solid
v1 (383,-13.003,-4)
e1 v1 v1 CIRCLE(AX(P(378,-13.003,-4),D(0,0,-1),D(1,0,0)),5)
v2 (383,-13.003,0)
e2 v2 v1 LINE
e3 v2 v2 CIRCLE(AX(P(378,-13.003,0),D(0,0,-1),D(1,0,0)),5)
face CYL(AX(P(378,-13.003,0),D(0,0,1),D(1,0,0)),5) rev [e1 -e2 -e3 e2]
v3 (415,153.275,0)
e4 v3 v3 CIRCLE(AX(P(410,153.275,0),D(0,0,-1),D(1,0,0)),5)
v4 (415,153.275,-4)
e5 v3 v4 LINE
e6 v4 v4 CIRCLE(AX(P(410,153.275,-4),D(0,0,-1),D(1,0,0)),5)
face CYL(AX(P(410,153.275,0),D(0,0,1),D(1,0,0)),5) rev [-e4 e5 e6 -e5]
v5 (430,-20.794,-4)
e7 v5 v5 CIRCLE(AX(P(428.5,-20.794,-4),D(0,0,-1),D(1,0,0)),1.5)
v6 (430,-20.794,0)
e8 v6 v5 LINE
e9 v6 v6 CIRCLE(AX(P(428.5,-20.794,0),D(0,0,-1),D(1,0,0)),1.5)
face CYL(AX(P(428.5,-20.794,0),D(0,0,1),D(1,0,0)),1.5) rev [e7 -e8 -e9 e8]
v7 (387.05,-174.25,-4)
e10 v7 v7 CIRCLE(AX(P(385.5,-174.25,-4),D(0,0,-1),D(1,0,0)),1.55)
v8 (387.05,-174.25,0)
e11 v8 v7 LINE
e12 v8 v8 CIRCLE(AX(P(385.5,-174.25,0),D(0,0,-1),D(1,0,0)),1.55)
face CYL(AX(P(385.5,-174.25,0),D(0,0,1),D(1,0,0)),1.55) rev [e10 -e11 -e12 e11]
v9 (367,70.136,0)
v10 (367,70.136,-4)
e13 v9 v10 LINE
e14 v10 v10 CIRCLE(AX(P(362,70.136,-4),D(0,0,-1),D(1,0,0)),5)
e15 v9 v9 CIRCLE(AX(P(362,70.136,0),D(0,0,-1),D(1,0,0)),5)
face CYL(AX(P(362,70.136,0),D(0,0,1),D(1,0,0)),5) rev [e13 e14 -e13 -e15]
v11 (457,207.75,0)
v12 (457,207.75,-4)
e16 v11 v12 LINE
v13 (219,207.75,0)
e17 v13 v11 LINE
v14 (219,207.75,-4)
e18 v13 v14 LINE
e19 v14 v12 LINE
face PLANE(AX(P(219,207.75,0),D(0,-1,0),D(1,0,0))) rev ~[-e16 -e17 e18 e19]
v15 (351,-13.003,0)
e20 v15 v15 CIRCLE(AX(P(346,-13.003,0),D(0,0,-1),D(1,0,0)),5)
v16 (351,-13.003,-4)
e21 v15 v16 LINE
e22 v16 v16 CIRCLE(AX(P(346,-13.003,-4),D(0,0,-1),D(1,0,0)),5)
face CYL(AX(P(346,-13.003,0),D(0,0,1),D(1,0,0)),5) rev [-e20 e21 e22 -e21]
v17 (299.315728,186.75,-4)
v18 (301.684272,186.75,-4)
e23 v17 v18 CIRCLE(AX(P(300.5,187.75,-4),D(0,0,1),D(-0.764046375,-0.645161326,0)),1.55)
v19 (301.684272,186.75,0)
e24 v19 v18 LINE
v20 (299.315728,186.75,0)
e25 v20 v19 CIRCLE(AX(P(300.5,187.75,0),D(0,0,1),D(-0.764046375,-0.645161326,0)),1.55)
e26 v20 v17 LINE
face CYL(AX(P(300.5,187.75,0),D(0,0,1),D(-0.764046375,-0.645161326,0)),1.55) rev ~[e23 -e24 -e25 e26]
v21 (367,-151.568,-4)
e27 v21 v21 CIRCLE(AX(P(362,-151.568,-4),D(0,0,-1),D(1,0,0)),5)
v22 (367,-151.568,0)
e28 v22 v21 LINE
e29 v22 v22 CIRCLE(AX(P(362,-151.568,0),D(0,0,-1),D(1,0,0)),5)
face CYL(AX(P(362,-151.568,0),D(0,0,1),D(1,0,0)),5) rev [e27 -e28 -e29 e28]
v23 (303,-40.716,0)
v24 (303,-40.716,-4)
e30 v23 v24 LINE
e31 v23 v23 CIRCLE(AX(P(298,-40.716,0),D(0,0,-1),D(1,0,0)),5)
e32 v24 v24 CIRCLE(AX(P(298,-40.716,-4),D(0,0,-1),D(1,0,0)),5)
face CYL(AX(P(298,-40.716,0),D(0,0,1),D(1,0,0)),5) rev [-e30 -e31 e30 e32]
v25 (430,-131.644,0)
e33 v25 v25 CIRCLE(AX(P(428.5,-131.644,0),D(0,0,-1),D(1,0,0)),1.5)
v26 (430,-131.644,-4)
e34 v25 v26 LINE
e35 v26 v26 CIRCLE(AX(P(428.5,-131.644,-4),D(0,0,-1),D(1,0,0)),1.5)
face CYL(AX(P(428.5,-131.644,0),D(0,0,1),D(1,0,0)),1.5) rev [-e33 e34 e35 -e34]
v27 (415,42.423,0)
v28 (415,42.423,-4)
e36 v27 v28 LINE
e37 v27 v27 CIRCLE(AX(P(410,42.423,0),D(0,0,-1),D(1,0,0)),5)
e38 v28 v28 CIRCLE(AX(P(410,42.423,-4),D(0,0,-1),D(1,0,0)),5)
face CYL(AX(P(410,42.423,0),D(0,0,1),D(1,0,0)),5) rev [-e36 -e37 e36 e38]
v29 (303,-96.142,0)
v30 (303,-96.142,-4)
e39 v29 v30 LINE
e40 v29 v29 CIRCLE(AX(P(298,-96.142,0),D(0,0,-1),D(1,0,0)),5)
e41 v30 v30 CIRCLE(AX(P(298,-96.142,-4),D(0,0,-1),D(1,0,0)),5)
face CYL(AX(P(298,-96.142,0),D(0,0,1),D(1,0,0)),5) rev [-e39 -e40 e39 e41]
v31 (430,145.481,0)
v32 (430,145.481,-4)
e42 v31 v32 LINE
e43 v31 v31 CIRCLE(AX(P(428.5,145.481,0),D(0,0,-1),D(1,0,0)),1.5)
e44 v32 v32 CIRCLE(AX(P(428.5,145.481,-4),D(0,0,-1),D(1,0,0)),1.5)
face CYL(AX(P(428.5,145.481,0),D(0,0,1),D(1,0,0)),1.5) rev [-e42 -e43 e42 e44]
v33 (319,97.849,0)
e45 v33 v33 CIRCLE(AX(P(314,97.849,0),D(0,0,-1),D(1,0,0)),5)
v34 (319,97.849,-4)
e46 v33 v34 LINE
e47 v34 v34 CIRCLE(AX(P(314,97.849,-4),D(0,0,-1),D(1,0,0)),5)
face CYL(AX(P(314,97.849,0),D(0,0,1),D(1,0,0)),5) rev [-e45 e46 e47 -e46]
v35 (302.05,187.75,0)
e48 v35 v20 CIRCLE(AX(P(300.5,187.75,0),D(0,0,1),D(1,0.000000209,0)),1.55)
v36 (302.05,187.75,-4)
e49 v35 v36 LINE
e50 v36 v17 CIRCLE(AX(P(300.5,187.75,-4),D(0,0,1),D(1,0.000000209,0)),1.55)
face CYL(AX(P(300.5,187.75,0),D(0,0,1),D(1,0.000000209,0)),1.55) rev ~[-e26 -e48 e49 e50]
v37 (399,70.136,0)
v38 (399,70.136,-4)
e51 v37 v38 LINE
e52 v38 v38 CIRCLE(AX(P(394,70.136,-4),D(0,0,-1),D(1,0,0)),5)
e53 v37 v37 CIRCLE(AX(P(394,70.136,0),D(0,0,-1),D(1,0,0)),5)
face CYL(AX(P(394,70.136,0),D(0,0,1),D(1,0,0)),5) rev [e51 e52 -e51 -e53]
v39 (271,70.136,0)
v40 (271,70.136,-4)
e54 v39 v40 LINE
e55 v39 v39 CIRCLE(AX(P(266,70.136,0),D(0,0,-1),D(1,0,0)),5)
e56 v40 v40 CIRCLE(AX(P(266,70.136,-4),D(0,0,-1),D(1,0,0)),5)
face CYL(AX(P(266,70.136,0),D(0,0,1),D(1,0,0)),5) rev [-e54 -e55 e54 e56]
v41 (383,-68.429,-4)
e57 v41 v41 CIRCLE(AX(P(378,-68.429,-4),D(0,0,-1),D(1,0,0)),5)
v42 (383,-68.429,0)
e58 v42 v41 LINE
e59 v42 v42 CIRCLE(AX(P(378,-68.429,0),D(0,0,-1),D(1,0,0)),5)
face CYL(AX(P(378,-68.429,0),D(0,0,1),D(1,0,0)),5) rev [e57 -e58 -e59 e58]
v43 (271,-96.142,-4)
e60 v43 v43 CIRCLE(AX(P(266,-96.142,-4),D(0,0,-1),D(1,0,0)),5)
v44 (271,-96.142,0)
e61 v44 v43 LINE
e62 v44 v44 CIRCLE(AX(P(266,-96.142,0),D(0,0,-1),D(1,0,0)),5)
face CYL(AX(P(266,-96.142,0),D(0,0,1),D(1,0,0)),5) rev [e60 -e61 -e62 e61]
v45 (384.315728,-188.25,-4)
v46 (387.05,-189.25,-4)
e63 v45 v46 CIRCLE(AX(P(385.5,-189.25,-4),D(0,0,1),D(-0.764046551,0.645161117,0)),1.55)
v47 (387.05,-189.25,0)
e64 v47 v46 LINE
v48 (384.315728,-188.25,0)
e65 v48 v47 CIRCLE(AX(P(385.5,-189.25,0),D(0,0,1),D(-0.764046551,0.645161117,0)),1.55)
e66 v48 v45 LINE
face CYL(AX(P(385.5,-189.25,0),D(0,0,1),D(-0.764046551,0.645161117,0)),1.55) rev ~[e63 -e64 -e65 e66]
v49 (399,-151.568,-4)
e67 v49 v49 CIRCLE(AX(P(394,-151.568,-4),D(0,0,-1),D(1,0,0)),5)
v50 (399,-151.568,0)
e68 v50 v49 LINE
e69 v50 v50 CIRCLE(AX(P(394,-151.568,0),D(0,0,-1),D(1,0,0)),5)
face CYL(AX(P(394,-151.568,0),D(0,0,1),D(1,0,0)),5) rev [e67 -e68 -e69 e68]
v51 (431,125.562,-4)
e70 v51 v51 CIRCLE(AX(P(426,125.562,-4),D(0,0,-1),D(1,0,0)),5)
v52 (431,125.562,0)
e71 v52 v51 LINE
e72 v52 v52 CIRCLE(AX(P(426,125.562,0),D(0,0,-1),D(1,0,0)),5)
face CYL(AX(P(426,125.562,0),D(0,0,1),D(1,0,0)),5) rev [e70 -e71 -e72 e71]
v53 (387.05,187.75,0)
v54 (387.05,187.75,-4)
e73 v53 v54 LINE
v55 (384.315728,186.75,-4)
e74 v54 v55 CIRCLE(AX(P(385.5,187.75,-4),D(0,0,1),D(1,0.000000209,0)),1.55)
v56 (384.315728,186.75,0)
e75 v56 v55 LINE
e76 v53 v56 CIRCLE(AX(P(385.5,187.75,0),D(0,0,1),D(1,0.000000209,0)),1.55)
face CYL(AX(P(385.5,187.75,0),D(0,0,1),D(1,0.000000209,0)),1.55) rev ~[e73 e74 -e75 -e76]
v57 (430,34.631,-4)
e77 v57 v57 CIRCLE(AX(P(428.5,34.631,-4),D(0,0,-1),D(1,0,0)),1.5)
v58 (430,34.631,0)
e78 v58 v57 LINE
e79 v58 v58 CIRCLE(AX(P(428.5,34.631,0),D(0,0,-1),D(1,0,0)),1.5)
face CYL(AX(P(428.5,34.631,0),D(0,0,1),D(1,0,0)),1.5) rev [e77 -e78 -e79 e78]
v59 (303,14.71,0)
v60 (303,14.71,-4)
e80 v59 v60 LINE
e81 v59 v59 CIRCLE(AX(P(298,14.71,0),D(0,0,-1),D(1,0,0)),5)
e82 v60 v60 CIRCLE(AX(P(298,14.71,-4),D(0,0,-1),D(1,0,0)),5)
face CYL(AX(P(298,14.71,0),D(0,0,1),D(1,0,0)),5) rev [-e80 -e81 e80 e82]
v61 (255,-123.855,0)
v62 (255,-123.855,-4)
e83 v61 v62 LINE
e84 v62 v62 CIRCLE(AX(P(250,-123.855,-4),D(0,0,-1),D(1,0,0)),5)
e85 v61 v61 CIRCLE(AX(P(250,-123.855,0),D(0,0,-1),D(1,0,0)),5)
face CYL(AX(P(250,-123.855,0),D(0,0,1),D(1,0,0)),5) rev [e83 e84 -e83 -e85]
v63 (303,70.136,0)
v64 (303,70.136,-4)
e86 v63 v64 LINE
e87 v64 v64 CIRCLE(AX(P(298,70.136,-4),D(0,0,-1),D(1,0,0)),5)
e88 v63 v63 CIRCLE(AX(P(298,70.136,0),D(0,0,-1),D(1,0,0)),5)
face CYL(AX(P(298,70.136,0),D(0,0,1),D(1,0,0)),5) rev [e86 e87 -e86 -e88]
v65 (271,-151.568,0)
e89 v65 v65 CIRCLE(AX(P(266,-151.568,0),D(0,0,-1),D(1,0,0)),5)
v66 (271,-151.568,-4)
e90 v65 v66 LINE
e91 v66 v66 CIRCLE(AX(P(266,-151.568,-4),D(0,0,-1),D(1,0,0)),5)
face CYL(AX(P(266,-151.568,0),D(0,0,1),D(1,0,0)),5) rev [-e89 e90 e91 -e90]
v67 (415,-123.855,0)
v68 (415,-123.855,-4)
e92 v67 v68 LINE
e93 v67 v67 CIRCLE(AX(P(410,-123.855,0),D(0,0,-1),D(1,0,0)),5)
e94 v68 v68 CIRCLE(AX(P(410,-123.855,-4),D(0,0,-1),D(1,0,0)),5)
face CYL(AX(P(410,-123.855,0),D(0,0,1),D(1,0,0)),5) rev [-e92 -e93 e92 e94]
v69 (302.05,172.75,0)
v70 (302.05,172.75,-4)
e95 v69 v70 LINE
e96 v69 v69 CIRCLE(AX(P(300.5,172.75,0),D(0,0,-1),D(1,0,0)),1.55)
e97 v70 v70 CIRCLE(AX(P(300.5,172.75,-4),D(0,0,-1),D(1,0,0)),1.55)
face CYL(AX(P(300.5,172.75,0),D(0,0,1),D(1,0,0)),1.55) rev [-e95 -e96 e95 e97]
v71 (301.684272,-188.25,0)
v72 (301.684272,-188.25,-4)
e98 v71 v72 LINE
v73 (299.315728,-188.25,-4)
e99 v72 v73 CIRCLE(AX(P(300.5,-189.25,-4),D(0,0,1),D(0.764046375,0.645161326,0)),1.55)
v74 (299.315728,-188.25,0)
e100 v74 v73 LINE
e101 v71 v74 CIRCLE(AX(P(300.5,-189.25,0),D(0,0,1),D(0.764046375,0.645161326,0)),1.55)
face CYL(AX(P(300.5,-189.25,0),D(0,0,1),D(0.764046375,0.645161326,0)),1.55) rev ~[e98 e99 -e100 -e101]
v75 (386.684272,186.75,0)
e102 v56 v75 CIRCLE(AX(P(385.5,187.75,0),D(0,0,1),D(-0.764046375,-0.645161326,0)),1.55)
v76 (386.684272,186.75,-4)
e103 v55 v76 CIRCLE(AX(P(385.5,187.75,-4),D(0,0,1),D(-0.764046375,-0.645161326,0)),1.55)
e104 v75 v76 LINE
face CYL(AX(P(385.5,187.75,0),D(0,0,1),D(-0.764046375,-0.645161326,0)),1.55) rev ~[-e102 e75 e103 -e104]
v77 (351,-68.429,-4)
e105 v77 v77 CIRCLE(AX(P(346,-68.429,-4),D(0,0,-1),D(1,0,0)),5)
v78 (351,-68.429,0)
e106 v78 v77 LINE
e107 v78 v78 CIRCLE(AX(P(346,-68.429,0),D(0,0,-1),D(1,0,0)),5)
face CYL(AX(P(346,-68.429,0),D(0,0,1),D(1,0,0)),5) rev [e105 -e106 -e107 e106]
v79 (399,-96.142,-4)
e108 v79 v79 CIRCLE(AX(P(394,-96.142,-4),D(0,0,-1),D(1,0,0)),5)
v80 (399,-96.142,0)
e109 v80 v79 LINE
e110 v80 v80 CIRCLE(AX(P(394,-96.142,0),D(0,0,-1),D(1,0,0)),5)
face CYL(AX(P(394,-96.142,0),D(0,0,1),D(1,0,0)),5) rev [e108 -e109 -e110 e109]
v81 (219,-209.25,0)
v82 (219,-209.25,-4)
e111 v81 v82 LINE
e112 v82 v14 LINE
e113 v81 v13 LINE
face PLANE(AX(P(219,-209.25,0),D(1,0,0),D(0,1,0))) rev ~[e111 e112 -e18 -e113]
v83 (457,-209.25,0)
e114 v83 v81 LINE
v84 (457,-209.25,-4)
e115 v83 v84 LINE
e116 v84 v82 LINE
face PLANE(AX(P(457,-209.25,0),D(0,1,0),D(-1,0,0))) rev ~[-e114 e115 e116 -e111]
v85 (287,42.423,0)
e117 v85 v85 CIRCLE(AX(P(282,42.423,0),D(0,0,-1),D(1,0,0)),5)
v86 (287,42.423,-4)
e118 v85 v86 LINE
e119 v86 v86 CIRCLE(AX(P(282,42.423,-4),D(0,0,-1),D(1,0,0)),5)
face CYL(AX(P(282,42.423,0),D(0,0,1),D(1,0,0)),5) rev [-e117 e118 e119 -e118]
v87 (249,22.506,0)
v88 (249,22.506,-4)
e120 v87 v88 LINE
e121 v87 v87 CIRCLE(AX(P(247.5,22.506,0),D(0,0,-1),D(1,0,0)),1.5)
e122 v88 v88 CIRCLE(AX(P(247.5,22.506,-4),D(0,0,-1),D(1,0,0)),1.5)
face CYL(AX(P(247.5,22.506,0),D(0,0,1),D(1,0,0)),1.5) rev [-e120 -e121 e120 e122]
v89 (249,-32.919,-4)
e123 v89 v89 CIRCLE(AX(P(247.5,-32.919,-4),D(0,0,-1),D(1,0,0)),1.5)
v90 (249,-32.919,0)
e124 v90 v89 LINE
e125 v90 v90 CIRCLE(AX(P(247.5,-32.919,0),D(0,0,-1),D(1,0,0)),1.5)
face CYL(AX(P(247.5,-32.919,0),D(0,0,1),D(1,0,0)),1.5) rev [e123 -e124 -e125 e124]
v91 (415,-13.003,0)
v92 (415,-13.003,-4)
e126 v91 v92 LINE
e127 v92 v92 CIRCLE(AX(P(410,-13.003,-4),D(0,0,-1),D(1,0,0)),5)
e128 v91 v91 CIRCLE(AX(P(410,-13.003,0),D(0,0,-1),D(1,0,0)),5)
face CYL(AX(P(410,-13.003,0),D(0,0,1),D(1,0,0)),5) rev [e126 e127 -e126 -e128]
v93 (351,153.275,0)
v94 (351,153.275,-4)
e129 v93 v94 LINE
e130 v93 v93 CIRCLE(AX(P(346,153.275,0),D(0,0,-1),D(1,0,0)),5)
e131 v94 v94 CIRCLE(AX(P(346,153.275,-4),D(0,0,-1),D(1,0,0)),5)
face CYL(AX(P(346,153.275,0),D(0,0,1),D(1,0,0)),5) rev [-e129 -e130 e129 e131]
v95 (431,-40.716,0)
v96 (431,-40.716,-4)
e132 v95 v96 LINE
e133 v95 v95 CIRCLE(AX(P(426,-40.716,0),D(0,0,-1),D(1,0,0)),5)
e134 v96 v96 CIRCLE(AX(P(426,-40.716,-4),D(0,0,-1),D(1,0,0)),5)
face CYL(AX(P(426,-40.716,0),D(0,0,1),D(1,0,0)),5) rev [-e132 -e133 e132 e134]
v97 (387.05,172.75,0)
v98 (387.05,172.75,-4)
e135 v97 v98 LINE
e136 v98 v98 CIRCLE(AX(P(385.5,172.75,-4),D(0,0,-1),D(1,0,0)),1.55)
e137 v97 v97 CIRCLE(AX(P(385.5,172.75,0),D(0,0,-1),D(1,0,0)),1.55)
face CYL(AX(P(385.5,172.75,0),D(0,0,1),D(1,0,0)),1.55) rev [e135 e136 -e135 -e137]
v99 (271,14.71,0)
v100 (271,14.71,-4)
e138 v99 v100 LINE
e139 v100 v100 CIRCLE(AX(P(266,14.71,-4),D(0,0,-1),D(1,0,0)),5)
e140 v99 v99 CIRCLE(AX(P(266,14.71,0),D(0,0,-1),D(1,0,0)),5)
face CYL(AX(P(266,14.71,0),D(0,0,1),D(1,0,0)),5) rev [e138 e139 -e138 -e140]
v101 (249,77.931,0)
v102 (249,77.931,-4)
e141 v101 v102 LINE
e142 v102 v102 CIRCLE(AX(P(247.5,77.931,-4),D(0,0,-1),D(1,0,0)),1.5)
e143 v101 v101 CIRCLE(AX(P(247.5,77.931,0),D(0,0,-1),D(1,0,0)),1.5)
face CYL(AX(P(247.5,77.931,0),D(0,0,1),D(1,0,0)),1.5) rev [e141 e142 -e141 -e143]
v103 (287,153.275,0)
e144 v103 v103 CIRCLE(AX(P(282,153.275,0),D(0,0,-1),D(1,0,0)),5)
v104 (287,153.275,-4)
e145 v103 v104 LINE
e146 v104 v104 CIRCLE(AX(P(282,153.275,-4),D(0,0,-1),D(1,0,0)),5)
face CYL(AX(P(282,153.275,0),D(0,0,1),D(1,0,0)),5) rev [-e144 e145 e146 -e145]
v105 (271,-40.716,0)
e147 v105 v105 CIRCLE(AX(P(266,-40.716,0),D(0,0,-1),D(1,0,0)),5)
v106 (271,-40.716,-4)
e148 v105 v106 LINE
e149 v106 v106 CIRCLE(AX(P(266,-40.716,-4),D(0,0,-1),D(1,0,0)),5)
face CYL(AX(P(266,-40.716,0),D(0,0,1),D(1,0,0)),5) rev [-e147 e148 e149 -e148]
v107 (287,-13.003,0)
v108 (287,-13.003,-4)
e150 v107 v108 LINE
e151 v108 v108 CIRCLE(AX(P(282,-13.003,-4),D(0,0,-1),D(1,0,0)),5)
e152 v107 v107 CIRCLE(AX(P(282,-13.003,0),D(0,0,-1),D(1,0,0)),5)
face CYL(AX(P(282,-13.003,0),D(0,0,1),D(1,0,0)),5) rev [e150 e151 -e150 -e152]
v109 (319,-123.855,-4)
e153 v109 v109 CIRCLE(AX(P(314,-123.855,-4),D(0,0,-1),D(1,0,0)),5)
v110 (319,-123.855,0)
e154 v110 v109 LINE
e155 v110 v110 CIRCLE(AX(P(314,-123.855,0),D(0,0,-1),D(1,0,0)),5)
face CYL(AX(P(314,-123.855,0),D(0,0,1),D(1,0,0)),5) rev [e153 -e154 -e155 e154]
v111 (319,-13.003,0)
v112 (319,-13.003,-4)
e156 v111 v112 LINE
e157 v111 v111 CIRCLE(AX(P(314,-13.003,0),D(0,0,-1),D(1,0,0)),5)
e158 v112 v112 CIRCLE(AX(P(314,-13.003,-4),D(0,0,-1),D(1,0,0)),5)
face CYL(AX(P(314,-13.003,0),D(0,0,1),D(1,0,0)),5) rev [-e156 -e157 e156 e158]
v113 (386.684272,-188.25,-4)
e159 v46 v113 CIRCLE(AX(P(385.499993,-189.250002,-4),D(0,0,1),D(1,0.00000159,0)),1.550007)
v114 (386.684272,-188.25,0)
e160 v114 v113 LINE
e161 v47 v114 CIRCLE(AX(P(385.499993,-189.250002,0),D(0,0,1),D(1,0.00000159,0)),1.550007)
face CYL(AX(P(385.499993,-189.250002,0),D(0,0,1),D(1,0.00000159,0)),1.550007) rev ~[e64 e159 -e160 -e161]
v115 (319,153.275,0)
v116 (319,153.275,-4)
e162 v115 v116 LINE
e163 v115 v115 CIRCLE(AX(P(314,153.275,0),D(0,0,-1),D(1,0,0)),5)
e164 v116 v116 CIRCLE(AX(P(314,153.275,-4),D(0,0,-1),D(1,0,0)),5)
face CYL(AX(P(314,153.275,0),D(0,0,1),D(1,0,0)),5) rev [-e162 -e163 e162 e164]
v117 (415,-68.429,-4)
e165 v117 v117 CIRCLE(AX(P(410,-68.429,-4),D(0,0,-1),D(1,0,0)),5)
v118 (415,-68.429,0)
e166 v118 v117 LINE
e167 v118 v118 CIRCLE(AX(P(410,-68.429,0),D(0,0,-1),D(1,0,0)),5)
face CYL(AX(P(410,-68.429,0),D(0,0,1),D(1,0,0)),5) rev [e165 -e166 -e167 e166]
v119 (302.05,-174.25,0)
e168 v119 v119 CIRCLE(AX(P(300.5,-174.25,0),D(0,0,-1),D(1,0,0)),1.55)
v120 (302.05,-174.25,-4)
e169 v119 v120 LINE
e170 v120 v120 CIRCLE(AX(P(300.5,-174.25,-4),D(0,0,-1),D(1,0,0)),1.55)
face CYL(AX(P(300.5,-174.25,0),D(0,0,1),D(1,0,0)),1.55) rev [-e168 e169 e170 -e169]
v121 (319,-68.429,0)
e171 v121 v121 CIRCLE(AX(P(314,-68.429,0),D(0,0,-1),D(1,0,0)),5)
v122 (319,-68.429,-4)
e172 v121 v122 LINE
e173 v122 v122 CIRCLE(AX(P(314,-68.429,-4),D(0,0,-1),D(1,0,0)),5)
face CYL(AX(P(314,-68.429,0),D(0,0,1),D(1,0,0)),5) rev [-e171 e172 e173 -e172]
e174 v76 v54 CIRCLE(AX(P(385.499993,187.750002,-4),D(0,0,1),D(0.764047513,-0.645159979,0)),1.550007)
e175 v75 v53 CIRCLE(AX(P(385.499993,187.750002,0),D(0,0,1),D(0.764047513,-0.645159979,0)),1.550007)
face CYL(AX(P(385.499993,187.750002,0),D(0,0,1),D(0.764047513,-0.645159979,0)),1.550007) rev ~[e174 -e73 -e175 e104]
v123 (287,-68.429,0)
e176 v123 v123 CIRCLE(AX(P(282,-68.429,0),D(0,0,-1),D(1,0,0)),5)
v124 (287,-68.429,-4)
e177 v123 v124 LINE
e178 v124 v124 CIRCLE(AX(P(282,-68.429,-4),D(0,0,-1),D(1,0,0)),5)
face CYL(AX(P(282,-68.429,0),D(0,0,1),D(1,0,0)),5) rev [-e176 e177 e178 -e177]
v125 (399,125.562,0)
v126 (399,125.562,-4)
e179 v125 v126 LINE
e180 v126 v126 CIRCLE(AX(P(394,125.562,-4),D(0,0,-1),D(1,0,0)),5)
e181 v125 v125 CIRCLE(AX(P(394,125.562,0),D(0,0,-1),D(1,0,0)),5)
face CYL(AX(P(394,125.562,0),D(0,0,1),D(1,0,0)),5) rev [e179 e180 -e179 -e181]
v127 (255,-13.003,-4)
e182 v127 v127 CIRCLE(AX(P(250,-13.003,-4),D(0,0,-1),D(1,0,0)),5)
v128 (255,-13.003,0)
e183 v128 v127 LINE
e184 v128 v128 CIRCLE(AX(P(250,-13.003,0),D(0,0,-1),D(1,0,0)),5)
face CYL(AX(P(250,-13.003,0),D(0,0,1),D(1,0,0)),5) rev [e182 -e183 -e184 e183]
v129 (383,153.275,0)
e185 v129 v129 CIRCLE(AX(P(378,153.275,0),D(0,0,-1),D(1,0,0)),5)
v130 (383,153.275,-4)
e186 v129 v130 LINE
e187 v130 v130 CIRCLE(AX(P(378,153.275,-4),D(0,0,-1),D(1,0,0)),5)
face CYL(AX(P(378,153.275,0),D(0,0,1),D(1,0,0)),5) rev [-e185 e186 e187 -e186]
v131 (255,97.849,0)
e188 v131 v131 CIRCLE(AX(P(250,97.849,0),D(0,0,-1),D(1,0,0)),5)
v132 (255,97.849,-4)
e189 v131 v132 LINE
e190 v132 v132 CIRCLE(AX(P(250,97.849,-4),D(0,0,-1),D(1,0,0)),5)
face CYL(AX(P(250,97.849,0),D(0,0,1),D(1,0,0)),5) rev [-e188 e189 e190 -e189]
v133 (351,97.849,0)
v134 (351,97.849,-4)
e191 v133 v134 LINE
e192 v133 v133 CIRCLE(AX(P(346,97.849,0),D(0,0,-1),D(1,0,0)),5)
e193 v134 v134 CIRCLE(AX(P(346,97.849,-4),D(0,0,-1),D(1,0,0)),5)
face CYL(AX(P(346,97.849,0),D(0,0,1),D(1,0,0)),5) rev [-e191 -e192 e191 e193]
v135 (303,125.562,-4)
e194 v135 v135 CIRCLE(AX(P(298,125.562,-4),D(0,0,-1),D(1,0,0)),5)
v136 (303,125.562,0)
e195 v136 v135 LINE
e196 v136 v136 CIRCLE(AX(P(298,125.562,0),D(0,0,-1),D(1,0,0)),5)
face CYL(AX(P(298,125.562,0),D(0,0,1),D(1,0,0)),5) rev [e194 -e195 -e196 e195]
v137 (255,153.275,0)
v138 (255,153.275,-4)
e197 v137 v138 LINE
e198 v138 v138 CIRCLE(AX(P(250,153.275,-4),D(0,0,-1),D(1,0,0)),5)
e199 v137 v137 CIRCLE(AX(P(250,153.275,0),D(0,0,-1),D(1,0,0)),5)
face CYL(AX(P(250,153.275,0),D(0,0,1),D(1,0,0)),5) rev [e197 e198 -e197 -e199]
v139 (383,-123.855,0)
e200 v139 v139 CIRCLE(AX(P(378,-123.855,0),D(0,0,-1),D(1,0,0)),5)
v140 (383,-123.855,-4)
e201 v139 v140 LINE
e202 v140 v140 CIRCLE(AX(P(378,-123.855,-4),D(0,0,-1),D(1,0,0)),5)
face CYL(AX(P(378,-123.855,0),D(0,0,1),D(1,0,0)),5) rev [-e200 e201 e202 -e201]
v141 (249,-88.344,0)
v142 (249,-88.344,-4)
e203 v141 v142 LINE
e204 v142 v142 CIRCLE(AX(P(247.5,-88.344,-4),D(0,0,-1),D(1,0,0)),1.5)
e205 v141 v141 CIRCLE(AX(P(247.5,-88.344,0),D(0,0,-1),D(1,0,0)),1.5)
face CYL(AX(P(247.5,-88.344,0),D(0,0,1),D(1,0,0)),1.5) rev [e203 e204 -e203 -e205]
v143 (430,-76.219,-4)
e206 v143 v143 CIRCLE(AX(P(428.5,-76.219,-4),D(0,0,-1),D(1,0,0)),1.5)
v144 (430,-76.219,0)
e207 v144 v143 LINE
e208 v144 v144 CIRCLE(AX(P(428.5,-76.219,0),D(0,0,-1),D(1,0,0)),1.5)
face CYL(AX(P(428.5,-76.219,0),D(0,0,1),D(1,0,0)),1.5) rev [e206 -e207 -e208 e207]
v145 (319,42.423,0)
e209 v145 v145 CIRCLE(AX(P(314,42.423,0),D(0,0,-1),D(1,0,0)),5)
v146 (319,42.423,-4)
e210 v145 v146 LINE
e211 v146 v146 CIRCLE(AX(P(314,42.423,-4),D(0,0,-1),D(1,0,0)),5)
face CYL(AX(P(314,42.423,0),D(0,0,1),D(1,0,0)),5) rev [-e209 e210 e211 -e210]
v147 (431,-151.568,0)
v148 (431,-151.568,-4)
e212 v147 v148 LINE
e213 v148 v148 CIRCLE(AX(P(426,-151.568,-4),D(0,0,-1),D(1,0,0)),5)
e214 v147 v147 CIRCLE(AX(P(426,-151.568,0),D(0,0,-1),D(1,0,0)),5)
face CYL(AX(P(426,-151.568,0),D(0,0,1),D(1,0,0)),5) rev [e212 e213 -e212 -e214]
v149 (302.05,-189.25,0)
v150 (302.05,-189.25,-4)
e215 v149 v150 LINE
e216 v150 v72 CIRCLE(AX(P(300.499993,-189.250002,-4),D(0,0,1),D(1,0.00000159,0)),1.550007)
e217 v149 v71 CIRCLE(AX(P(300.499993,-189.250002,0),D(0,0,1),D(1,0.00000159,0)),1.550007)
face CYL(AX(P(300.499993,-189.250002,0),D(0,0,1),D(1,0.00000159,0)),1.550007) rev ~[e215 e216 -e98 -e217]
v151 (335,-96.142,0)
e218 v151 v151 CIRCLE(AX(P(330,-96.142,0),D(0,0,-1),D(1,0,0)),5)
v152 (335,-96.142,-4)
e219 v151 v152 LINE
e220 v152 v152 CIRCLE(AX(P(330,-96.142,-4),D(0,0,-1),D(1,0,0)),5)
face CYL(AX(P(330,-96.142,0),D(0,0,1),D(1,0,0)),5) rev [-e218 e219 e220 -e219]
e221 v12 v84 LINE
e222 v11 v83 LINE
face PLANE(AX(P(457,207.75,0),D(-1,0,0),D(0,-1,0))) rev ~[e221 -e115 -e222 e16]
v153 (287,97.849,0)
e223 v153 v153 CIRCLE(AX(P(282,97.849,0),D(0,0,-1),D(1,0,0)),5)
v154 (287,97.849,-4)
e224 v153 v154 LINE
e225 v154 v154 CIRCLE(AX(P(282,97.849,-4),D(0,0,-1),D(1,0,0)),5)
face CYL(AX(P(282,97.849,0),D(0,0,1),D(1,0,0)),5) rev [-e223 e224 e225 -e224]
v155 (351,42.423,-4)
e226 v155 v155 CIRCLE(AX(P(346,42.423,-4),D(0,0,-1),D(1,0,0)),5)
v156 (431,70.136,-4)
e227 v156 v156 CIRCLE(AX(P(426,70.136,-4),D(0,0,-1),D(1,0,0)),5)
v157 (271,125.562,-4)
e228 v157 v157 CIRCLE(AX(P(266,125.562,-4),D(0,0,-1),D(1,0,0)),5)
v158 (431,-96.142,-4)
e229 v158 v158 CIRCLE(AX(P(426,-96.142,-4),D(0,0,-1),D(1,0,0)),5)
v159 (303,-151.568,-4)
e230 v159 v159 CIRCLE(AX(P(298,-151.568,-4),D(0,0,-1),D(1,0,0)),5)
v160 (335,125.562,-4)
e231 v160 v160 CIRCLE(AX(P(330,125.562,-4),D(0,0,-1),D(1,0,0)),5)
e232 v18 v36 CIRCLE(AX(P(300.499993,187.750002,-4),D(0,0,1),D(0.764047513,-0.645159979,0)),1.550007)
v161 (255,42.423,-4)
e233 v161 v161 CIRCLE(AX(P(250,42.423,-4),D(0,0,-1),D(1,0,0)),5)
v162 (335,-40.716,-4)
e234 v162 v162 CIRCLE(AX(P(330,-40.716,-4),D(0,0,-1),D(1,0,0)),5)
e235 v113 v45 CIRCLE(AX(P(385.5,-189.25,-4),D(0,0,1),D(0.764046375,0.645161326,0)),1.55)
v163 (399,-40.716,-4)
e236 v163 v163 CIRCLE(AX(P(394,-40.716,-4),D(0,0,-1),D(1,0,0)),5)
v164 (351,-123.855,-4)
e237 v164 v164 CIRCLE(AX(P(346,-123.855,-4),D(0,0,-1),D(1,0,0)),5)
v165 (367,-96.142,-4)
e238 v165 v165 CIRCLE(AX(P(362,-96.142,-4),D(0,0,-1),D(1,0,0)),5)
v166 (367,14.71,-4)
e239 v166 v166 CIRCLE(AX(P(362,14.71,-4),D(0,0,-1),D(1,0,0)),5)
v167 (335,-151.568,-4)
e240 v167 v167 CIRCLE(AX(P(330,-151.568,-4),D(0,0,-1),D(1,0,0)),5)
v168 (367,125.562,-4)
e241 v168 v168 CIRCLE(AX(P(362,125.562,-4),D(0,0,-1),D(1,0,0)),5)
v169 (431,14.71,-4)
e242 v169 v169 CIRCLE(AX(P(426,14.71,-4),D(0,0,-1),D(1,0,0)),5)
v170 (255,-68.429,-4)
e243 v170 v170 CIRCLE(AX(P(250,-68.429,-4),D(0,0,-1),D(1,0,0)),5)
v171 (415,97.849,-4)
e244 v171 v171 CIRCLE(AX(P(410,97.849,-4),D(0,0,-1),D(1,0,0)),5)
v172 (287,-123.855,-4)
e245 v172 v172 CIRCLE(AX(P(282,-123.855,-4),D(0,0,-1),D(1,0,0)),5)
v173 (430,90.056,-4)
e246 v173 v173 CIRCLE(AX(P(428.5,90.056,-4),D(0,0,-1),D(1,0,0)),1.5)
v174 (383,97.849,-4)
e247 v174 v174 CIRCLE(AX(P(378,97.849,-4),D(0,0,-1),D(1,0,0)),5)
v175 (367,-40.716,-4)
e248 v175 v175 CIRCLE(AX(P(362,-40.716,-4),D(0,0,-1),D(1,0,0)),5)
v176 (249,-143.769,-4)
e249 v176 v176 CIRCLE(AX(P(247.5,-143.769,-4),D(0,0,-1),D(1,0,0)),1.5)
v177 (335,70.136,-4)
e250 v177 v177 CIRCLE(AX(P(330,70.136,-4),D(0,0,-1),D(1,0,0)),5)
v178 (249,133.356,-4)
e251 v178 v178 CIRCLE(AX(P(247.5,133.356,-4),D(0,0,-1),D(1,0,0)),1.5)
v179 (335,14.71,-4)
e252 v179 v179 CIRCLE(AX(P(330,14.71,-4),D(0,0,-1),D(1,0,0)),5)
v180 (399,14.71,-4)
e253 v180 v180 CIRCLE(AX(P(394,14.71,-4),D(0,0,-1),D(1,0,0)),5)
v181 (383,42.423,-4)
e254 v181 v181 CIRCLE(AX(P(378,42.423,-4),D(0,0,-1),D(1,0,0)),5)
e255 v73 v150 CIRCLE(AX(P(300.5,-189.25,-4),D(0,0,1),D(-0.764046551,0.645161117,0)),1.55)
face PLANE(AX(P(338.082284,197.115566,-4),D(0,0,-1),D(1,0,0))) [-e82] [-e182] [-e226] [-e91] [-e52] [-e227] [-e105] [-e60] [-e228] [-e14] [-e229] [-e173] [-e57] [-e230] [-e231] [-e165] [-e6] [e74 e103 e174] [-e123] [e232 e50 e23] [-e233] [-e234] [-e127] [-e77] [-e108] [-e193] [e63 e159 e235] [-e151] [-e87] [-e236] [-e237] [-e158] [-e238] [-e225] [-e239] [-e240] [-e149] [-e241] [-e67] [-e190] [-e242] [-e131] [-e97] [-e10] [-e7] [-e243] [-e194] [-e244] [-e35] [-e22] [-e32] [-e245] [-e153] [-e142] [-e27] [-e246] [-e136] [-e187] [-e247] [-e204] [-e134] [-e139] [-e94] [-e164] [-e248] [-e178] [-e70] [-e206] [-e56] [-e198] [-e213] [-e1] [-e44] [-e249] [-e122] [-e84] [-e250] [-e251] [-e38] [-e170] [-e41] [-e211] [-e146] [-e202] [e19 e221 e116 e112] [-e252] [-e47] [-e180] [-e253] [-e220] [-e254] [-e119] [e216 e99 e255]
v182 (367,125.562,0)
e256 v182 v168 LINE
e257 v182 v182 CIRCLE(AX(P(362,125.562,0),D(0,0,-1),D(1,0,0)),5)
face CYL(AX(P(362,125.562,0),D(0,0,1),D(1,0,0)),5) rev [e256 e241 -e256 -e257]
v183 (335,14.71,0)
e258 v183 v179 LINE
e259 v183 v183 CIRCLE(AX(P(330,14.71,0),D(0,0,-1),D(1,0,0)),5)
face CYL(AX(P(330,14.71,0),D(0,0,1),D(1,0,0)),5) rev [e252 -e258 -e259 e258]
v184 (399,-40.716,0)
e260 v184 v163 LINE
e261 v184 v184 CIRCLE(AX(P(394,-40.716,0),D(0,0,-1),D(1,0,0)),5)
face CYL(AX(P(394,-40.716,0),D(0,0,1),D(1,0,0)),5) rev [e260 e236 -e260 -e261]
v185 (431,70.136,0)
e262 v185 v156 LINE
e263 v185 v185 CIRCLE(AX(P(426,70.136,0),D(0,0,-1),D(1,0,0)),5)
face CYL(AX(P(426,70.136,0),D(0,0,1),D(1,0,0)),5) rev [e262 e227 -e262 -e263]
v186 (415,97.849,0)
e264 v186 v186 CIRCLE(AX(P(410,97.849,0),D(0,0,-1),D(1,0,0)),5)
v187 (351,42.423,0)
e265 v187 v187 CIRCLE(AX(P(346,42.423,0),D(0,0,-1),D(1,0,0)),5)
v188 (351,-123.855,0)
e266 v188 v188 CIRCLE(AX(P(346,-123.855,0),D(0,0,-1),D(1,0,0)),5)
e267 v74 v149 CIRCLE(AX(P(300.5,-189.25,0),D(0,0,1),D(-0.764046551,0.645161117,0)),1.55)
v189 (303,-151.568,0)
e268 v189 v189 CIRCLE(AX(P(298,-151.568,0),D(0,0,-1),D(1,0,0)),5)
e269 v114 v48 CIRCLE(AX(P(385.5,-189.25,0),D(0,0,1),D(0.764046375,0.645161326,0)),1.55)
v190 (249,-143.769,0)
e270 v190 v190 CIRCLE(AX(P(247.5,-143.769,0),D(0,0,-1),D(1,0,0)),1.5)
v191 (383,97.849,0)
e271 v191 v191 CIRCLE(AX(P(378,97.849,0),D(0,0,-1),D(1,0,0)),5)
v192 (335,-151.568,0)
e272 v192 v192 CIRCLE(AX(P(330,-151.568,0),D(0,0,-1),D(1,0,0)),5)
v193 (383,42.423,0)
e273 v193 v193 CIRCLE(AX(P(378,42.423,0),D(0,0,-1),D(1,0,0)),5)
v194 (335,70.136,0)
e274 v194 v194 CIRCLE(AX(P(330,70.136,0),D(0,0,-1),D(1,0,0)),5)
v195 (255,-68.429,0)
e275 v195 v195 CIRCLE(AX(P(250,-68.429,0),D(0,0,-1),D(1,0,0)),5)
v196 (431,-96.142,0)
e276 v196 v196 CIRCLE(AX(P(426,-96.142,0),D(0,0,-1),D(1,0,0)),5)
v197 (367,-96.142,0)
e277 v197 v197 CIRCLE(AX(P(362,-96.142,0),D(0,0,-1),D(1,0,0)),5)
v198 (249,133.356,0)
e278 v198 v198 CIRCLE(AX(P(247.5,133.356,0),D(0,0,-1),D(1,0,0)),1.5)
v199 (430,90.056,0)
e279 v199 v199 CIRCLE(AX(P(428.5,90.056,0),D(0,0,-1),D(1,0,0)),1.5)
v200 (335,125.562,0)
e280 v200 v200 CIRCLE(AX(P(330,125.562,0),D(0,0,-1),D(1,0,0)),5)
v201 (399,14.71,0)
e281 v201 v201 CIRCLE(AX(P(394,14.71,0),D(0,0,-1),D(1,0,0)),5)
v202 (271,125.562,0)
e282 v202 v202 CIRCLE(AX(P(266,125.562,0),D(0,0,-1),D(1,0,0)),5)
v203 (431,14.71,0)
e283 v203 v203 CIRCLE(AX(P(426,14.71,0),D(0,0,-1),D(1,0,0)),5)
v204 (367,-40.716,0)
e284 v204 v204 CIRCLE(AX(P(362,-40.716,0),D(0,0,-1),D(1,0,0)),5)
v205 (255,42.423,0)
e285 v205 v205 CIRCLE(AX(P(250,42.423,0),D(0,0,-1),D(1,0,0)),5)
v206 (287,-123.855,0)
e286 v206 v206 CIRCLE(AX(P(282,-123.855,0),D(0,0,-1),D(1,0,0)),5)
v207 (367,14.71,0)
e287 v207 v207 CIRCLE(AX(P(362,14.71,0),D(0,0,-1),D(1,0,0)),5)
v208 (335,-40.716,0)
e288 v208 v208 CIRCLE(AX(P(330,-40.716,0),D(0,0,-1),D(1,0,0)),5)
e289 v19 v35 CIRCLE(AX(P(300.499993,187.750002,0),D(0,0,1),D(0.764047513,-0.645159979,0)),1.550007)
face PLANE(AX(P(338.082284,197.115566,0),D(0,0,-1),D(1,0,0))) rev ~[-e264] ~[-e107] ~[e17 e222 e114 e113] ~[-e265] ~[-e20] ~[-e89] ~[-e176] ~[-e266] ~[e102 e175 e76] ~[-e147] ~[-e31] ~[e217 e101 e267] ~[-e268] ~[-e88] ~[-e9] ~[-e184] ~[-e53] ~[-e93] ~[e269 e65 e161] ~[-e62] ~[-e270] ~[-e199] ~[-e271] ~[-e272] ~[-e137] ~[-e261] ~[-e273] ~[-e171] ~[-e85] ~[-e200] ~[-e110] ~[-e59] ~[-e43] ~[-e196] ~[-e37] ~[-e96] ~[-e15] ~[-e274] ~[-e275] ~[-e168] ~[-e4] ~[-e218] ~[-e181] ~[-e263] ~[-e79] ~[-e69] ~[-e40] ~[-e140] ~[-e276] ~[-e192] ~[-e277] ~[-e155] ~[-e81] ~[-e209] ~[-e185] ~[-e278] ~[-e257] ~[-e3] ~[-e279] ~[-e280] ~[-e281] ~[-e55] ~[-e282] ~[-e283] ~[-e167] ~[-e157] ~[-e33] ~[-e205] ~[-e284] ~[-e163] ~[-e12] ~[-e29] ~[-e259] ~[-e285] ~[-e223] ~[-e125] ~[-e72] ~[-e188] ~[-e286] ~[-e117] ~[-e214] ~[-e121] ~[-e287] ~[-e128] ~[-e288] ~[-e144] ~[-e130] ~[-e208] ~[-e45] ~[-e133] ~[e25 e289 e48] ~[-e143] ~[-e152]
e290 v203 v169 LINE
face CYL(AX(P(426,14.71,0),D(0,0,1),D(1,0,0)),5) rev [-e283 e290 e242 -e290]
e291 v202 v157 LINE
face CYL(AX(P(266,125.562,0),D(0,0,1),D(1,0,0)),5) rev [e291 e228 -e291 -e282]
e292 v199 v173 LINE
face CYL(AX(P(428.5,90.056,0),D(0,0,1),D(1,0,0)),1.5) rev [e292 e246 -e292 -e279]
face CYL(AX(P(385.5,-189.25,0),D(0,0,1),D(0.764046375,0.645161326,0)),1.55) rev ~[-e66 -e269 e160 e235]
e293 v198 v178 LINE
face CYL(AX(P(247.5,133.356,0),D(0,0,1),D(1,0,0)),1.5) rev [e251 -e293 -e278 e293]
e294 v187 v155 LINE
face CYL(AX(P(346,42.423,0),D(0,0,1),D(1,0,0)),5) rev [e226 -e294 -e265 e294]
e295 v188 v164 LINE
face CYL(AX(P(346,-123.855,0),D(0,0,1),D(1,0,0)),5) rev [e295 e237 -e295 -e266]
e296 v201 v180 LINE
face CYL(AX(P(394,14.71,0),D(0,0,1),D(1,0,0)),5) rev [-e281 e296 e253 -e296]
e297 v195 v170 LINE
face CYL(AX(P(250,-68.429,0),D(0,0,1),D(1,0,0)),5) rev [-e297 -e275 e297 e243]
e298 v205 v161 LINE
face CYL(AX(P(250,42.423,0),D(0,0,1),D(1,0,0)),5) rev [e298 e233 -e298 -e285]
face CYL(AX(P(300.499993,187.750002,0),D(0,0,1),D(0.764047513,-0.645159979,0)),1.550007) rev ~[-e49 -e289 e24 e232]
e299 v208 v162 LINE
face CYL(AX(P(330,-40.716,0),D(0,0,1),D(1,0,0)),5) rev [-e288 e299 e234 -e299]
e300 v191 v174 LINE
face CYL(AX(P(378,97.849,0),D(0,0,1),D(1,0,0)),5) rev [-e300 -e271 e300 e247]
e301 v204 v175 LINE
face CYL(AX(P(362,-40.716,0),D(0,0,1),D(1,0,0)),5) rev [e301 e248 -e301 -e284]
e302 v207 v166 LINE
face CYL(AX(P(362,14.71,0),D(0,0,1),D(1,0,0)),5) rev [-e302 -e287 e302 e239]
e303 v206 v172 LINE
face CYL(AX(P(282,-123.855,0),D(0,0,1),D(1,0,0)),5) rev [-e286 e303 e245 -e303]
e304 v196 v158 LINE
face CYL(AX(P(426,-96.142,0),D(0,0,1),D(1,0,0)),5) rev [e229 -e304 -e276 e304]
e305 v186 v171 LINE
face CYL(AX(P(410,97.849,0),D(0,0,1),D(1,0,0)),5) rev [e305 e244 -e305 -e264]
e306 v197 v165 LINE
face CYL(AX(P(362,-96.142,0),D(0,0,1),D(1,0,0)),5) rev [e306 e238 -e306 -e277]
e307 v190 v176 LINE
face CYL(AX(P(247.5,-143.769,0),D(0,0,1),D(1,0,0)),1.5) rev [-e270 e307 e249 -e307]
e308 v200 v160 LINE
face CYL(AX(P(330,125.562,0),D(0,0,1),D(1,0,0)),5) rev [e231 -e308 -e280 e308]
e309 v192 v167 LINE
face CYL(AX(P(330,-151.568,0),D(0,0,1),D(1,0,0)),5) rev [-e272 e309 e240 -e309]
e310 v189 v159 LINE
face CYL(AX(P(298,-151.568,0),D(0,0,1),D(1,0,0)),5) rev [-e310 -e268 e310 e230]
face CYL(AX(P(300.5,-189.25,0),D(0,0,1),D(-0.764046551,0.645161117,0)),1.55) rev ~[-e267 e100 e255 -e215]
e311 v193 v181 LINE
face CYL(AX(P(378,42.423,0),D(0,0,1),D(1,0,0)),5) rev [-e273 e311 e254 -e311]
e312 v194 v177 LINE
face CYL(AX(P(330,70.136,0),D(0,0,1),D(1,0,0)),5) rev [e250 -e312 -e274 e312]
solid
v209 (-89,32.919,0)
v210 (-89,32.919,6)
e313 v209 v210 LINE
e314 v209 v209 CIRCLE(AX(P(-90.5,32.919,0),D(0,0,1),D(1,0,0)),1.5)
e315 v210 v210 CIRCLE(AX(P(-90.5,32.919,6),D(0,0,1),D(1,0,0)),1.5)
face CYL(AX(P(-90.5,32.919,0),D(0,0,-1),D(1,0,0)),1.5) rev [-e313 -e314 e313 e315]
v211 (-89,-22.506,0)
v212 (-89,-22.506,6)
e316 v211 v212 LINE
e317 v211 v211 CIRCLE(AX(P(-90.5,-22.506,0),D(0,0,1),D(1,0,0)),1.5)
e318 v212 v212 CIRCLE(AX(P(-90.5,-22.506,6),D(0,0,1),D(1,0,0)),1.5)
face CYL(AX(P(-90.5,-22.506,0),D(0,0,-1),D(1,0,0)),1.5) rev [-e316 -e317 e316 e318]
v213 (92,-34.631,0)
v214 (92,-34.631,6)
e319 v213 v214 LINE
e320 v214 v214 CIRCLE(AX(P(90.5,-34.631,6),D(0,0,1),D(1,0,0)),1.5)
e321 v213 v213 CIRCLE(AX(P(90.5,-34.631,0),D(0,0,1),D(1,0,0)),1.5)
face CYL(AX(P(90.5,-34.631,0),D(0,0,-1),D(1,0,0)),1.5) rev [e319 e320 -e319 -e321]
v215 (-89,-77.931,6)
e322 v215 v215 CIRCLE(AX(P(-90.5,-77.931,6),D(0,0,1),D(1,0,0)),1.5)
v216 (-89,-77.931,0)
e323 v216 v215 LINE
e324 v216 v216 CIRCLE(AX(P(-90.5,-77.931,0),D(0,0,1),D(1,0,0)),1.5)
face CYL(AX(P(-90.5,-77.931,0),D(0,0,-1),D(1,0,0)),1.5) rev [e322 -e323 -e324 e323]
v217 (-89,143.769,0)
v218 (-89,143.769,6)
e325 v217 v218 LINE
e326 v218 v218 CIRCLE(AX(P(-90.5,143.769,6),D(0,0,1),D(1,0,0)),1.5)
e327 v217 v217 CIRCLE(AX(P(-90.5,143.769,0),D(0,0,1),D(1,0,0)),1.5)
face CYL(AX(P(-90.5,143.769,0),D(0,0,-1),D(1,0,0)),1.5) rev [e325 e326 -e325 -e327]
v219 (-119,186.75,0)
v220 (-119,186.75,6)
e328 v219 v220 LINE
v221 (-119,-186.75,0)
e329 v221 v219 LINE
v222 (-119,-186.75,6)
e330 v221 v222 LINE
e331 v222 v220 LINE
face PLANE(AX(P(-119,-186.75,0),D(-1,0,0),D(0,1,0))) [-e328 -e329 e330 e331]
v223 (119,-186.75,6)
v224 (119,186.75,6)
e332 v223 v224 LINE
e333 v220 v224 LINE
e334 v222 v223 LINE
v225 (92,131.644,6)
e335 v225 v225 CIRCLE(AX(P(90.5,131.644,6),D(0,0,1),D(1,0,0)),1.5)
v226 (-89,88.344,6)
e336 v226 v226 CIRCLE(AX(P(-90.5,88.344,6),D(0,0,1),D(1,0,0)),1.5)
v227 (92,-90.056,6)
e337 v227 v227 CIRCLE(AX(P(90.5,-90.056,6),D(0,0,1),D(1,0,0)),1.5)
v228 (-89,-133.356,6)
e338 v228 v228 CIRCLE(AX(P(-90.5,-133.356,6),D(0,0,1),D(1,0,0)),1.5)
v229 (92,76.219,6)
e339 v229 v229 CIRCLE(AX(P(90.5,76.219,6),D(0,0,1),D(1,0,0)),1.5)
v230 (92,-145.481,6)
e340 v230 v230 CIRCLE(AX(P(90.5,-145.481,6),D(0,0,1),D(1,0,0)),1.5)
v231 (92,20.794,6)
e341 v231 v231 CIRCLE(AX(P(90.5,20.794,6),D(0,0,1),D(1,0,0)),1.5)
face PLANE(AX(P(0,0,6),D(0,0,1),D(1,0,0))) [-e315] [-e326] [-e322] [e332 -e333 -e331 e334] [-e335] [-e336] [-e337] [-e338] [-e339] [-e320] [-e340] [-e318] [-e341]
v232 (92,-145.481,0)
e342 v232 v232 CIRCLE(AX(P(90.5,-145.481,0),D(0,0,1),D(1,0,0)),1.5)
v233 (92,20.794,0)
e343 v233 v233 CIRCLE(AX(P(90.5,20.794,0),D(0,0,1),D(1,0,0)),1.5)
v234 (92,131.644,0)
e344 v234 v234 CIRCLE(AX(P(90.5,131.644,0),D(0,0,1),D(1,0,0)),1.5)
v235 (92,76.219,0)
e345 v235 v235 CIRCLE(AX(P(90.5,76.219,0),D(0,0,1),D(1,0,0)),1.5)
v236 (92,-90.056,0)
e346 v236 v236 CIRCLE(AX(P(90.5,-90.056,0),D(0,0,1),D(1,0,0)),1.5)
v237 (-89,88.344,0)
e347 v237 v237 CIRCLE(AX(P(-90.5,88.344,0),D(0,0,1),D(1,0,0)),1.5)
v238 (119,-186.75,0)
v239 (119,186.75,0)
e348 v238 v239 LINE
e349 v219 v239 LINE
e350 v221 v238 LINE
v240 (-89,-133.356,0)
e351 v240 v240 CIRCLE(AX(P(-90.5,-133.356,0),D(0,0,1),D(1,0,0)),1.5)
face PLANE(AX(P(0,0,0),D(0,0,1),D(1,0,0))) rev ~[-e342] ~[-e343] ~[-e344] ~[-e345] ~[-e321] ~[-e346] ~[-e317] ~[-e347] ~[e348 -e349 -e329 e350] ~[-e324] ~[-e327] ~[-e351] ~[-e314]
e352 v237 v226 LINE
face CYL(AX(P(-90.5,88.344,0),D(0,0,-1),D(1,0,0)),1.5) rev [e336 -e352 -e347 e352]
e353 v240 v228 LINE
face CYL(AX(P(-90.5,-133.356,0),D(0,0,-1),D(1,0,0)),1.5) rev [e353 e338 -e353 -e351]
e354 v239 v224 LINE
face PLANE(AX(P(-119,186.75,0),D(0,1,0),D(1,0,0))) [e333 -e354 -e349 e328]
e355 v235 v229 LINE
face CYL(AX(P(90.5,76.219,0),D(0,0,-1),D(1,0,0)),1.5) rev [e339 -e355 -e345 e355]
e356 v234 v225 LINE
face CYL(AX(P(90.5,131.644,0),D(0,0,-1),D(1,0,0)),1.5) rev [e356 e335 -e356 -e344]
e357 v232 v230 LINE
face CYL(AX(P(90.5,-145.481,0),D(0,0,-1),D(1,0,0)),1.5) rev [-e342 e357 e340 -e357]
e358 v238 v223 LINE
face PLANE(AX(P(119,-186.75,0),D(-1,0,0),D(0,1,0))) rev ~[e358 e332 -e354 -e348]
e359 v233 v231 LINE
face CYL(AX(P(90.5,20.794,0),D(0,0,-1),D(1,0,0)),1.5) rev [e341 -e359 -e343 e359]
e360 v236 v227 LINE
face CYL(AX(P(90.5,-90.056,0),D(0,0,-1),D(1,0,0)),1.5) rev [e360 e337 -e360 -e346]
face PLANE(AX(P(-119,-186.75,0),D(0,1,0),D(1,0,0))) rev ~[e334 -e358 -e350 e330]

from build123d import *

# Parameters (mm, degrees)
F0_W     = 238
F0_H     = 373.5
F0_R     = 1.5
F1_DEPTH = 6
F2_R     = 1.55
F2_R_2   = 5
F2_R_3   = 1.5
F3_DEPTH = 4


with BuildPart() as f1:
    # F0 (on Top) → F1 (new body)
    with BuildSketch(Plane.XY):
        Rectangle(F0_W, F0_H)
        with Locations((-90.5, -133.356)):
            Circle(F0_R, mode=Mode.SUBTRACT)
        with Locations((-90.5, -77.931)):
            Circle(F0_R, mode=Mode.SUBTRACT)
        with Locations((-90.5, -22.506)):
            Circle(F0_R, mode=Mode.SUBTRACT)
        with Locations((90.5, -145.481)):
            Circle(F0_R, mode=Mode.SUBTRACT)
        with Locations((90.5, -90.056)):
            Circle(F0_R, mode=Mode.SUBTRACT)
        with Locations((90.5, -34.631)):
            Circle(F0_R, mode=Mode.SUBTRACT)
        with Locations((-90.5, 32.919)):
            Circle(F0_R, mode=Mode.SUBTRACT)
        with Locations((-90.5, 88.344)):
            Circle(F0_R, mode=Mode.SUBTRACT)
        with Locations((-90.5, 143.769)):
            Circle(F0_R, mode=Mode.SUBTRACT)
        with Locations((90.5, 20.794)):
            Circle(F0_R, mode=Mode.SUBTRACT)
        with Locations((90.5, 76.219)):
            Circle(F0_R, mode=Mode.SUBTRACT)
        with Locations((90.5, 131.644)):
            Circle(F0_R, mode=Mode.SUBTRACT)
    extrude(amount=F1_DEPTH)


with BuildPart() as f3:
    # F2 (on face) → F3 (new body)
    with BuildSketch(Plane(origin=(0, 0, 0), x_dir=(1, 0, 0), z_dir=(0, 0, -1))):
        with BuildLine():
            Line((457, -207.75), (457, -186.75))
            Line((457, -186.75), (386.684272, -186.75))
            ThreePointArc((386.684272, -186.75), (386.955699, -187.21761), (387.05, -187.75))
            ThreePointArc((387.05, -187.75), (384.96761, -189.205699), (384.315728, -186.75))
            Line((384.315728, -186.75), (301.684272, -186.75))
            ThreePointArc((301.684272, -186.75), (301.955699, -187.21761), (302.05, -187.75))
            ThreePointArc((302.05, -187.75), (299.96761, -189.205699), (299.315728, -186.75))
            Line((299.315728, -186.75), (219, -186.75))
            Line((219, -186.75), (219, -207.75))
            Line((219, -207.75), (457, -207.75))
        make_face()
        with BuildLine():
            Line((386.684272, 188.25), (457, 188.25))
            Line((457, 188.25), (457, 209.25))
            Line((457, 209.25), (219, 209.25))
            Line((219, 209.25), (219, 188.25))
            Line((219, 188.25), (299.315728, 188.25))
            ThreePointArc((299.315728, 188.25), (299.96761, 190.705699), (302.05, 189.25))
            ThreePointArc((302.05, 189.25), (301.955699, 188.71761), (301.684272, 188.25))
            Line((301.684272, 188.25), (384.315728, 188.25))
            ThreePointArc((384.315728, 188.25), (384.96761, 190.705699), (387.05, 189.25))
            ThreePointArc((387.05, 189.25), (386.955699, 188.71761), (386.684272, 188.25))
        make_face()
        with BuildLine():
            Line((386.684272, -186.75), (457, -186.75))
            Line((457, -186.75), (457, 188.25))
            Line((457, 188.25), (386.684272, 188.25))
            ThreePointArc((386.684272, 188.25), (385.5, 187.7), (384.315728, 188.25))
            Line((384.315728, 188.25), (301.684272, 188.25))
            ThreePointArc((301.684272, 188.25), (300.5, 187.7), (299.315728, 188.25))
            Line((299.315728, 188.25), (219, 188.25))
            Line((219, 188.25), (219, -186.75))
            Line((219, -186.75), (299.315728, -186.75))
            ThreePointArc((299.315728, -186.75), (300.5, -186.2), (301.684272, -186.75))
            Line((301.684272, -186.75), (384.315728, -186.75))
            ThreePointArc((384.315728, -186.75), (385.5, -186.2), (386.684272, -186.75))
        make_face()
        with Locations((300.5, -172.75)):
            Circle(F2_R, mode=Mode.SUBTRACT)
        with Locations((250, -153.275)):
            Circle(F2_R_2, mode=Mode.SUBTRACT)
        with Locations((247.5, -133.356)):
            Circle(F2_R_3, mode=Mode.SUBTRACT)
        with Locations((282, -153.275)):
            Circle(F2_R_2, mode=Mode.SUBTRACT)
        with Locations((266, -125.562)):
            Circle(F2_R_2, mode=Mode.SUBTRACT)
        with Locations((298, -125.562)):
            Circle(F2_R_2, mode=Mode.SUBTRACT)
        with Locations((385.5, -172.75)):
            Circle(F2_R, mode=Mode.SUBTRACT)
        with Locations((314, -153.275)):
            Circle(F2_R_2, mode=Mode.SUBTRACT)
        with Locations((346, -153.275)):
            Circle(F2_R_2, mode=Mode.SUBTRACT)
        with Locations((378, -153.275)):
            Circle(F2_R_2, mode=Mode.SUBTRACT)
        with Locations((330, -125.562)):
            Circle(F2_R_2, mode=Mode.SUBTRACT)
        with Locations((362, -125.562)):
            Circle(F2_R_2, mode=Mode.SUBTRACT)
        with Locations((410, -153.275)):
            Circle(F2_R_2, mode=Mode.SUBTRACT)
        with Locations((428.5, -145.481)):
            Circle(F2_R_3, mode=Mode.SUBTRACT)
        with Locations((394, -125.562)):
            Circle(F2_R_2, mode=Mode.SUBTRACT)
        with Locations((426, -125.562)):
            Circle(F2_R_2, mode=Mode.SUBTRACT)
        with Locations((250, -97.849)):
            Circle(F2_R_2, mode=Mode.SUBTRACT)
        with Locations((247.5, -77.931)):
            Circle(F2_R_3, mode=Mode.SUBTRACT)
        with Locations((282, -97.849)):
            Circle(F2_R_2, mode=Mode.SUBTRACT)
        with Locations((266, -70.136)):
            Circle(F2_R_2, mode=Mode.SUBTRACT)
        with Locations((298, -70.136)):
            Circle(F2_R_2, mode=Mode.SUBTRACT)
        with Locations((250, -42.423)):
            Circle(F2_R_2, mode=Mode.SUBTRACT)
        with Locations((282, -42.423)):
            Circle(F2_R_2, mode=Mode.SUBTRACT)
        with Locations((247.5, -22.506)):
            Circle(F2_R_3, mode=Mode.SUBTRACT)
        with Locations((266, -14.71)):
            Circle(F2_R_2, mode=Mode.SUBTRACT)
        with Locations((298, -14.71)):
            Circle(F2_R_2, mode=Mode.SUBTRACT)
        with Locations((314, -97.849)):
            Circle(F2_R_2, mode=Mode.SUBTRACT)
        with Locations((346, -97.849)):
            Circle(F2_R_2, mode=Mode.SUBTRACT)
        with Locations((378, -97.849)):
            Circle(F2_R_2, mode=Mode.SUBTRACT)
        with Locations((330, -70.136)):
            Circle(F2_R_2, mode=Mode.SUBTRACT)
        with Locations((362, -70.136)):
            Circle(F2_R_2, mode=Mode.SUBTRACT)
        with Locations((410, -97.849)):
            Circle(F2_R_2, mode=Mode.SUBTRACT)
        with Locations((428.5, -90.056)):
            Circle(F2_R_3, mode=Mode.SUBTRACT)
        with Locations((394, -70.136)):
            Circle(F2_R_2, mode=Mode.SUBTRACT)
        with Locations((426, -70.136)):
            Circle(F2_R_2, mode=Mode.SUBTRACT)
        with Locations((314, -42.423)):
            Circle(F2_R_2, mode=Mode.SUBTRACT)
        with Locations((346, -42.423)):
            Circle(F2_R_2, mode=Mode.SUBTRACT)
        with Locations((378, -42.423)):
            Circle(F2_R_2, mode=Mode.SUBTRACT)
        with Locations((330, -14.71)):
            Circle(F2_R_2, mode=Mode.SUBTRACT)
        with Locations((362, -14.71)):
            Circle(F2_R_2, mode=Mode.SUBTRACT)
        with Locations((410, -42.423)):
            Circle(F2_R_2, mode=Mode.SUBTRACT)
        with Locations((428.5, -34.631)):
            Circle(F2_R_3, mode=Mode.SUBTRACT)
        with Locations((394, -14.71)):
            Circle(F2_R_2, mode=Mode.SUBTRACT)
        with Locations((426, -14.71)):
            Circle(F2_R_2, mode=Mode.SUBTRACT)
        with Locations((250, 13.003)):
            Circle(F2_R_2, mode=Mode.SUBTRACT)
        with Locations((282, 13.003)):
            Circle(F2_R_2, mode=Mode.SUBTRACT)
        with Locations((247.5, 32.919)):
            Circle(F2_R_3, mode=Mode.SUBTRACT)
        with Locations((266, 40.716)):
            Circle(F2_R_2, mode=Mode.SUBTRACT)
        with Locations((298, 40.716)):
            Circle(F2_R_2, mode=Mode.SUBTRACT)
        with Locations((250, 68.429)):
            Circle(F2_R_2, mode=Mode.SUBTRACT)
        with Locations((282, 68.429)):
            Circle(F2_R_2, mode=Mode.SUBTRACT)
        with Locations((247.5, 88.344)):
            Circle(F2_R_3, mode=Mode.SUBTRACT)
        with Locations((266, 96.142)):
            Circle(F2_R_2, mode=Mode.SUBTRACT)
        with Locations((298, 96.142)):
            Circle(F2_R_2, mode=Mode.SUBTRACT)
        with Locations((314, 13.003)):
            Circle(F2_R_2, mode=Mode.SUBTRACT)
        with Locations((346, 13.003)):
            Circle(F2_R_2, mode=Mode.SUBTRACT)
        with Locations((378, 13.003)):
            Circle(F2_R_2, mode=Mode.SUBTRACT)
        with Locations((330, 40.716)):
            Circle(F2_R_2, mode=Mode.SUBTRACT)
        with Locations((362, 40.716)):
            Circle(F2_R_2, mode=Mode.SUBTRACT)
        with Locations((410, 13.003)):
            Circle(F2_R_2, mode=Mode.SUBTRACT)
        with Locations((428.5, 20.794)):
            Circle(F2_R_3, mode=Mode.SUBTRACT)
        with Locations((394, 40.716)):
            Circle(F2_R_2, mode=Mode.SUBTRACT)
        with Locations((426, 40.716)):
            Circle(F2_R_2, mode=Mode.SUBTRACT)
        with Locations((314, 68.429)):
            Circle(F2_R_2, mode=Mode.SUBTRACT)
        with Locations((346, 68.429)):
            Circle(F2_R_2, mode=Mode.SUBTRACT)
        with Locations((378, 68.429)):
            Circle(F2_R_2, mode=Mode.SUBTRACT)
        with Locations((330, 96.142)):
            Circle(F2_R_2, mode=Mode.SUBTRACT)
        with Locations((362, 96.142)):
            Circle(F2_R_2, mode=Mode.SUBTRACT)
        with Locations((410, 68.429)):
            Circle(F2_R_2, mode=Mode.SUBTRACT)
        with Locations((428.5, 76.219)):
            Circle(F2_R_3, mode=Mode.SUBTRACT)
        with Locations((394, 96.142)):
            Circle(F2_R_2, mode=Mode.SUBTRACT)
        with Locations((426, 96.142)):
            Circle(F2_R_2, mode=Mode.SUBTRACT)
        with Locations((250, 123.855)):
            Circle(F2_R_2, mode=Mode.SUBTRACT)
        with Locations((282, 123.855)):
            Circle(F2_R_2, mode=Mode.SUBTRACT)
        with Locations((247.5, 143.769)):
            Circle(F2_R_3, mode=Mode.SUBTRACT)
        with Locations((266, 151.568)):
            Circle(F2_R_2, mode=Mode.SUBTRACT)
        with Locations((298, 151.568)):
            Circle(F2_R_2, mode=Mode.SUBTRACT)
        with Locations((300.5, 174.25)):
            Circle(F2_R, mode=Mode.SUBTRACT)
        with Locations((314, 123.855)):
            Circle(F2_R_2, mode=Mode.SUBTRACT)
        with Locations((346, 123.855)):
            Circle(F2_R_2, mode=Mode.SUBTRACT)
        with Locations((378, 123.855)):
            Circle(F2_R_2, mode=Mode.SUBTRACT)
        with Locations((330, 151.568)):
            Circle(F2_R_2, mode=Mode.SUBTRACT)
        with Locations((362, 151.568)):
            Circle(F2_R_2, mode=Mode.SUBTRACT)
        with Locations((410, 123.855)):
            Circle(F2_R_2, mode=Mode.SUBTRACT)
        with Locations((394, 151.568)):
            Circle(F2_R_2, mode=Mode.SUBTRACT)
        with Locations((428.5, 131.644)):
            Circle(F2_R_3, mode=Mode.SUBTRACT)
        with Locations((426, 151.568)):
            Circle(F2_R_2, mode=Mode.SUBTRACT)
        with Locations((385.5, 174.25)):
            Circle(F2_R, mode=Mode.SUBTRACT)
    extrude(amount=F3_DEPTH)


solid = Compound([f1.part, f3.part])
